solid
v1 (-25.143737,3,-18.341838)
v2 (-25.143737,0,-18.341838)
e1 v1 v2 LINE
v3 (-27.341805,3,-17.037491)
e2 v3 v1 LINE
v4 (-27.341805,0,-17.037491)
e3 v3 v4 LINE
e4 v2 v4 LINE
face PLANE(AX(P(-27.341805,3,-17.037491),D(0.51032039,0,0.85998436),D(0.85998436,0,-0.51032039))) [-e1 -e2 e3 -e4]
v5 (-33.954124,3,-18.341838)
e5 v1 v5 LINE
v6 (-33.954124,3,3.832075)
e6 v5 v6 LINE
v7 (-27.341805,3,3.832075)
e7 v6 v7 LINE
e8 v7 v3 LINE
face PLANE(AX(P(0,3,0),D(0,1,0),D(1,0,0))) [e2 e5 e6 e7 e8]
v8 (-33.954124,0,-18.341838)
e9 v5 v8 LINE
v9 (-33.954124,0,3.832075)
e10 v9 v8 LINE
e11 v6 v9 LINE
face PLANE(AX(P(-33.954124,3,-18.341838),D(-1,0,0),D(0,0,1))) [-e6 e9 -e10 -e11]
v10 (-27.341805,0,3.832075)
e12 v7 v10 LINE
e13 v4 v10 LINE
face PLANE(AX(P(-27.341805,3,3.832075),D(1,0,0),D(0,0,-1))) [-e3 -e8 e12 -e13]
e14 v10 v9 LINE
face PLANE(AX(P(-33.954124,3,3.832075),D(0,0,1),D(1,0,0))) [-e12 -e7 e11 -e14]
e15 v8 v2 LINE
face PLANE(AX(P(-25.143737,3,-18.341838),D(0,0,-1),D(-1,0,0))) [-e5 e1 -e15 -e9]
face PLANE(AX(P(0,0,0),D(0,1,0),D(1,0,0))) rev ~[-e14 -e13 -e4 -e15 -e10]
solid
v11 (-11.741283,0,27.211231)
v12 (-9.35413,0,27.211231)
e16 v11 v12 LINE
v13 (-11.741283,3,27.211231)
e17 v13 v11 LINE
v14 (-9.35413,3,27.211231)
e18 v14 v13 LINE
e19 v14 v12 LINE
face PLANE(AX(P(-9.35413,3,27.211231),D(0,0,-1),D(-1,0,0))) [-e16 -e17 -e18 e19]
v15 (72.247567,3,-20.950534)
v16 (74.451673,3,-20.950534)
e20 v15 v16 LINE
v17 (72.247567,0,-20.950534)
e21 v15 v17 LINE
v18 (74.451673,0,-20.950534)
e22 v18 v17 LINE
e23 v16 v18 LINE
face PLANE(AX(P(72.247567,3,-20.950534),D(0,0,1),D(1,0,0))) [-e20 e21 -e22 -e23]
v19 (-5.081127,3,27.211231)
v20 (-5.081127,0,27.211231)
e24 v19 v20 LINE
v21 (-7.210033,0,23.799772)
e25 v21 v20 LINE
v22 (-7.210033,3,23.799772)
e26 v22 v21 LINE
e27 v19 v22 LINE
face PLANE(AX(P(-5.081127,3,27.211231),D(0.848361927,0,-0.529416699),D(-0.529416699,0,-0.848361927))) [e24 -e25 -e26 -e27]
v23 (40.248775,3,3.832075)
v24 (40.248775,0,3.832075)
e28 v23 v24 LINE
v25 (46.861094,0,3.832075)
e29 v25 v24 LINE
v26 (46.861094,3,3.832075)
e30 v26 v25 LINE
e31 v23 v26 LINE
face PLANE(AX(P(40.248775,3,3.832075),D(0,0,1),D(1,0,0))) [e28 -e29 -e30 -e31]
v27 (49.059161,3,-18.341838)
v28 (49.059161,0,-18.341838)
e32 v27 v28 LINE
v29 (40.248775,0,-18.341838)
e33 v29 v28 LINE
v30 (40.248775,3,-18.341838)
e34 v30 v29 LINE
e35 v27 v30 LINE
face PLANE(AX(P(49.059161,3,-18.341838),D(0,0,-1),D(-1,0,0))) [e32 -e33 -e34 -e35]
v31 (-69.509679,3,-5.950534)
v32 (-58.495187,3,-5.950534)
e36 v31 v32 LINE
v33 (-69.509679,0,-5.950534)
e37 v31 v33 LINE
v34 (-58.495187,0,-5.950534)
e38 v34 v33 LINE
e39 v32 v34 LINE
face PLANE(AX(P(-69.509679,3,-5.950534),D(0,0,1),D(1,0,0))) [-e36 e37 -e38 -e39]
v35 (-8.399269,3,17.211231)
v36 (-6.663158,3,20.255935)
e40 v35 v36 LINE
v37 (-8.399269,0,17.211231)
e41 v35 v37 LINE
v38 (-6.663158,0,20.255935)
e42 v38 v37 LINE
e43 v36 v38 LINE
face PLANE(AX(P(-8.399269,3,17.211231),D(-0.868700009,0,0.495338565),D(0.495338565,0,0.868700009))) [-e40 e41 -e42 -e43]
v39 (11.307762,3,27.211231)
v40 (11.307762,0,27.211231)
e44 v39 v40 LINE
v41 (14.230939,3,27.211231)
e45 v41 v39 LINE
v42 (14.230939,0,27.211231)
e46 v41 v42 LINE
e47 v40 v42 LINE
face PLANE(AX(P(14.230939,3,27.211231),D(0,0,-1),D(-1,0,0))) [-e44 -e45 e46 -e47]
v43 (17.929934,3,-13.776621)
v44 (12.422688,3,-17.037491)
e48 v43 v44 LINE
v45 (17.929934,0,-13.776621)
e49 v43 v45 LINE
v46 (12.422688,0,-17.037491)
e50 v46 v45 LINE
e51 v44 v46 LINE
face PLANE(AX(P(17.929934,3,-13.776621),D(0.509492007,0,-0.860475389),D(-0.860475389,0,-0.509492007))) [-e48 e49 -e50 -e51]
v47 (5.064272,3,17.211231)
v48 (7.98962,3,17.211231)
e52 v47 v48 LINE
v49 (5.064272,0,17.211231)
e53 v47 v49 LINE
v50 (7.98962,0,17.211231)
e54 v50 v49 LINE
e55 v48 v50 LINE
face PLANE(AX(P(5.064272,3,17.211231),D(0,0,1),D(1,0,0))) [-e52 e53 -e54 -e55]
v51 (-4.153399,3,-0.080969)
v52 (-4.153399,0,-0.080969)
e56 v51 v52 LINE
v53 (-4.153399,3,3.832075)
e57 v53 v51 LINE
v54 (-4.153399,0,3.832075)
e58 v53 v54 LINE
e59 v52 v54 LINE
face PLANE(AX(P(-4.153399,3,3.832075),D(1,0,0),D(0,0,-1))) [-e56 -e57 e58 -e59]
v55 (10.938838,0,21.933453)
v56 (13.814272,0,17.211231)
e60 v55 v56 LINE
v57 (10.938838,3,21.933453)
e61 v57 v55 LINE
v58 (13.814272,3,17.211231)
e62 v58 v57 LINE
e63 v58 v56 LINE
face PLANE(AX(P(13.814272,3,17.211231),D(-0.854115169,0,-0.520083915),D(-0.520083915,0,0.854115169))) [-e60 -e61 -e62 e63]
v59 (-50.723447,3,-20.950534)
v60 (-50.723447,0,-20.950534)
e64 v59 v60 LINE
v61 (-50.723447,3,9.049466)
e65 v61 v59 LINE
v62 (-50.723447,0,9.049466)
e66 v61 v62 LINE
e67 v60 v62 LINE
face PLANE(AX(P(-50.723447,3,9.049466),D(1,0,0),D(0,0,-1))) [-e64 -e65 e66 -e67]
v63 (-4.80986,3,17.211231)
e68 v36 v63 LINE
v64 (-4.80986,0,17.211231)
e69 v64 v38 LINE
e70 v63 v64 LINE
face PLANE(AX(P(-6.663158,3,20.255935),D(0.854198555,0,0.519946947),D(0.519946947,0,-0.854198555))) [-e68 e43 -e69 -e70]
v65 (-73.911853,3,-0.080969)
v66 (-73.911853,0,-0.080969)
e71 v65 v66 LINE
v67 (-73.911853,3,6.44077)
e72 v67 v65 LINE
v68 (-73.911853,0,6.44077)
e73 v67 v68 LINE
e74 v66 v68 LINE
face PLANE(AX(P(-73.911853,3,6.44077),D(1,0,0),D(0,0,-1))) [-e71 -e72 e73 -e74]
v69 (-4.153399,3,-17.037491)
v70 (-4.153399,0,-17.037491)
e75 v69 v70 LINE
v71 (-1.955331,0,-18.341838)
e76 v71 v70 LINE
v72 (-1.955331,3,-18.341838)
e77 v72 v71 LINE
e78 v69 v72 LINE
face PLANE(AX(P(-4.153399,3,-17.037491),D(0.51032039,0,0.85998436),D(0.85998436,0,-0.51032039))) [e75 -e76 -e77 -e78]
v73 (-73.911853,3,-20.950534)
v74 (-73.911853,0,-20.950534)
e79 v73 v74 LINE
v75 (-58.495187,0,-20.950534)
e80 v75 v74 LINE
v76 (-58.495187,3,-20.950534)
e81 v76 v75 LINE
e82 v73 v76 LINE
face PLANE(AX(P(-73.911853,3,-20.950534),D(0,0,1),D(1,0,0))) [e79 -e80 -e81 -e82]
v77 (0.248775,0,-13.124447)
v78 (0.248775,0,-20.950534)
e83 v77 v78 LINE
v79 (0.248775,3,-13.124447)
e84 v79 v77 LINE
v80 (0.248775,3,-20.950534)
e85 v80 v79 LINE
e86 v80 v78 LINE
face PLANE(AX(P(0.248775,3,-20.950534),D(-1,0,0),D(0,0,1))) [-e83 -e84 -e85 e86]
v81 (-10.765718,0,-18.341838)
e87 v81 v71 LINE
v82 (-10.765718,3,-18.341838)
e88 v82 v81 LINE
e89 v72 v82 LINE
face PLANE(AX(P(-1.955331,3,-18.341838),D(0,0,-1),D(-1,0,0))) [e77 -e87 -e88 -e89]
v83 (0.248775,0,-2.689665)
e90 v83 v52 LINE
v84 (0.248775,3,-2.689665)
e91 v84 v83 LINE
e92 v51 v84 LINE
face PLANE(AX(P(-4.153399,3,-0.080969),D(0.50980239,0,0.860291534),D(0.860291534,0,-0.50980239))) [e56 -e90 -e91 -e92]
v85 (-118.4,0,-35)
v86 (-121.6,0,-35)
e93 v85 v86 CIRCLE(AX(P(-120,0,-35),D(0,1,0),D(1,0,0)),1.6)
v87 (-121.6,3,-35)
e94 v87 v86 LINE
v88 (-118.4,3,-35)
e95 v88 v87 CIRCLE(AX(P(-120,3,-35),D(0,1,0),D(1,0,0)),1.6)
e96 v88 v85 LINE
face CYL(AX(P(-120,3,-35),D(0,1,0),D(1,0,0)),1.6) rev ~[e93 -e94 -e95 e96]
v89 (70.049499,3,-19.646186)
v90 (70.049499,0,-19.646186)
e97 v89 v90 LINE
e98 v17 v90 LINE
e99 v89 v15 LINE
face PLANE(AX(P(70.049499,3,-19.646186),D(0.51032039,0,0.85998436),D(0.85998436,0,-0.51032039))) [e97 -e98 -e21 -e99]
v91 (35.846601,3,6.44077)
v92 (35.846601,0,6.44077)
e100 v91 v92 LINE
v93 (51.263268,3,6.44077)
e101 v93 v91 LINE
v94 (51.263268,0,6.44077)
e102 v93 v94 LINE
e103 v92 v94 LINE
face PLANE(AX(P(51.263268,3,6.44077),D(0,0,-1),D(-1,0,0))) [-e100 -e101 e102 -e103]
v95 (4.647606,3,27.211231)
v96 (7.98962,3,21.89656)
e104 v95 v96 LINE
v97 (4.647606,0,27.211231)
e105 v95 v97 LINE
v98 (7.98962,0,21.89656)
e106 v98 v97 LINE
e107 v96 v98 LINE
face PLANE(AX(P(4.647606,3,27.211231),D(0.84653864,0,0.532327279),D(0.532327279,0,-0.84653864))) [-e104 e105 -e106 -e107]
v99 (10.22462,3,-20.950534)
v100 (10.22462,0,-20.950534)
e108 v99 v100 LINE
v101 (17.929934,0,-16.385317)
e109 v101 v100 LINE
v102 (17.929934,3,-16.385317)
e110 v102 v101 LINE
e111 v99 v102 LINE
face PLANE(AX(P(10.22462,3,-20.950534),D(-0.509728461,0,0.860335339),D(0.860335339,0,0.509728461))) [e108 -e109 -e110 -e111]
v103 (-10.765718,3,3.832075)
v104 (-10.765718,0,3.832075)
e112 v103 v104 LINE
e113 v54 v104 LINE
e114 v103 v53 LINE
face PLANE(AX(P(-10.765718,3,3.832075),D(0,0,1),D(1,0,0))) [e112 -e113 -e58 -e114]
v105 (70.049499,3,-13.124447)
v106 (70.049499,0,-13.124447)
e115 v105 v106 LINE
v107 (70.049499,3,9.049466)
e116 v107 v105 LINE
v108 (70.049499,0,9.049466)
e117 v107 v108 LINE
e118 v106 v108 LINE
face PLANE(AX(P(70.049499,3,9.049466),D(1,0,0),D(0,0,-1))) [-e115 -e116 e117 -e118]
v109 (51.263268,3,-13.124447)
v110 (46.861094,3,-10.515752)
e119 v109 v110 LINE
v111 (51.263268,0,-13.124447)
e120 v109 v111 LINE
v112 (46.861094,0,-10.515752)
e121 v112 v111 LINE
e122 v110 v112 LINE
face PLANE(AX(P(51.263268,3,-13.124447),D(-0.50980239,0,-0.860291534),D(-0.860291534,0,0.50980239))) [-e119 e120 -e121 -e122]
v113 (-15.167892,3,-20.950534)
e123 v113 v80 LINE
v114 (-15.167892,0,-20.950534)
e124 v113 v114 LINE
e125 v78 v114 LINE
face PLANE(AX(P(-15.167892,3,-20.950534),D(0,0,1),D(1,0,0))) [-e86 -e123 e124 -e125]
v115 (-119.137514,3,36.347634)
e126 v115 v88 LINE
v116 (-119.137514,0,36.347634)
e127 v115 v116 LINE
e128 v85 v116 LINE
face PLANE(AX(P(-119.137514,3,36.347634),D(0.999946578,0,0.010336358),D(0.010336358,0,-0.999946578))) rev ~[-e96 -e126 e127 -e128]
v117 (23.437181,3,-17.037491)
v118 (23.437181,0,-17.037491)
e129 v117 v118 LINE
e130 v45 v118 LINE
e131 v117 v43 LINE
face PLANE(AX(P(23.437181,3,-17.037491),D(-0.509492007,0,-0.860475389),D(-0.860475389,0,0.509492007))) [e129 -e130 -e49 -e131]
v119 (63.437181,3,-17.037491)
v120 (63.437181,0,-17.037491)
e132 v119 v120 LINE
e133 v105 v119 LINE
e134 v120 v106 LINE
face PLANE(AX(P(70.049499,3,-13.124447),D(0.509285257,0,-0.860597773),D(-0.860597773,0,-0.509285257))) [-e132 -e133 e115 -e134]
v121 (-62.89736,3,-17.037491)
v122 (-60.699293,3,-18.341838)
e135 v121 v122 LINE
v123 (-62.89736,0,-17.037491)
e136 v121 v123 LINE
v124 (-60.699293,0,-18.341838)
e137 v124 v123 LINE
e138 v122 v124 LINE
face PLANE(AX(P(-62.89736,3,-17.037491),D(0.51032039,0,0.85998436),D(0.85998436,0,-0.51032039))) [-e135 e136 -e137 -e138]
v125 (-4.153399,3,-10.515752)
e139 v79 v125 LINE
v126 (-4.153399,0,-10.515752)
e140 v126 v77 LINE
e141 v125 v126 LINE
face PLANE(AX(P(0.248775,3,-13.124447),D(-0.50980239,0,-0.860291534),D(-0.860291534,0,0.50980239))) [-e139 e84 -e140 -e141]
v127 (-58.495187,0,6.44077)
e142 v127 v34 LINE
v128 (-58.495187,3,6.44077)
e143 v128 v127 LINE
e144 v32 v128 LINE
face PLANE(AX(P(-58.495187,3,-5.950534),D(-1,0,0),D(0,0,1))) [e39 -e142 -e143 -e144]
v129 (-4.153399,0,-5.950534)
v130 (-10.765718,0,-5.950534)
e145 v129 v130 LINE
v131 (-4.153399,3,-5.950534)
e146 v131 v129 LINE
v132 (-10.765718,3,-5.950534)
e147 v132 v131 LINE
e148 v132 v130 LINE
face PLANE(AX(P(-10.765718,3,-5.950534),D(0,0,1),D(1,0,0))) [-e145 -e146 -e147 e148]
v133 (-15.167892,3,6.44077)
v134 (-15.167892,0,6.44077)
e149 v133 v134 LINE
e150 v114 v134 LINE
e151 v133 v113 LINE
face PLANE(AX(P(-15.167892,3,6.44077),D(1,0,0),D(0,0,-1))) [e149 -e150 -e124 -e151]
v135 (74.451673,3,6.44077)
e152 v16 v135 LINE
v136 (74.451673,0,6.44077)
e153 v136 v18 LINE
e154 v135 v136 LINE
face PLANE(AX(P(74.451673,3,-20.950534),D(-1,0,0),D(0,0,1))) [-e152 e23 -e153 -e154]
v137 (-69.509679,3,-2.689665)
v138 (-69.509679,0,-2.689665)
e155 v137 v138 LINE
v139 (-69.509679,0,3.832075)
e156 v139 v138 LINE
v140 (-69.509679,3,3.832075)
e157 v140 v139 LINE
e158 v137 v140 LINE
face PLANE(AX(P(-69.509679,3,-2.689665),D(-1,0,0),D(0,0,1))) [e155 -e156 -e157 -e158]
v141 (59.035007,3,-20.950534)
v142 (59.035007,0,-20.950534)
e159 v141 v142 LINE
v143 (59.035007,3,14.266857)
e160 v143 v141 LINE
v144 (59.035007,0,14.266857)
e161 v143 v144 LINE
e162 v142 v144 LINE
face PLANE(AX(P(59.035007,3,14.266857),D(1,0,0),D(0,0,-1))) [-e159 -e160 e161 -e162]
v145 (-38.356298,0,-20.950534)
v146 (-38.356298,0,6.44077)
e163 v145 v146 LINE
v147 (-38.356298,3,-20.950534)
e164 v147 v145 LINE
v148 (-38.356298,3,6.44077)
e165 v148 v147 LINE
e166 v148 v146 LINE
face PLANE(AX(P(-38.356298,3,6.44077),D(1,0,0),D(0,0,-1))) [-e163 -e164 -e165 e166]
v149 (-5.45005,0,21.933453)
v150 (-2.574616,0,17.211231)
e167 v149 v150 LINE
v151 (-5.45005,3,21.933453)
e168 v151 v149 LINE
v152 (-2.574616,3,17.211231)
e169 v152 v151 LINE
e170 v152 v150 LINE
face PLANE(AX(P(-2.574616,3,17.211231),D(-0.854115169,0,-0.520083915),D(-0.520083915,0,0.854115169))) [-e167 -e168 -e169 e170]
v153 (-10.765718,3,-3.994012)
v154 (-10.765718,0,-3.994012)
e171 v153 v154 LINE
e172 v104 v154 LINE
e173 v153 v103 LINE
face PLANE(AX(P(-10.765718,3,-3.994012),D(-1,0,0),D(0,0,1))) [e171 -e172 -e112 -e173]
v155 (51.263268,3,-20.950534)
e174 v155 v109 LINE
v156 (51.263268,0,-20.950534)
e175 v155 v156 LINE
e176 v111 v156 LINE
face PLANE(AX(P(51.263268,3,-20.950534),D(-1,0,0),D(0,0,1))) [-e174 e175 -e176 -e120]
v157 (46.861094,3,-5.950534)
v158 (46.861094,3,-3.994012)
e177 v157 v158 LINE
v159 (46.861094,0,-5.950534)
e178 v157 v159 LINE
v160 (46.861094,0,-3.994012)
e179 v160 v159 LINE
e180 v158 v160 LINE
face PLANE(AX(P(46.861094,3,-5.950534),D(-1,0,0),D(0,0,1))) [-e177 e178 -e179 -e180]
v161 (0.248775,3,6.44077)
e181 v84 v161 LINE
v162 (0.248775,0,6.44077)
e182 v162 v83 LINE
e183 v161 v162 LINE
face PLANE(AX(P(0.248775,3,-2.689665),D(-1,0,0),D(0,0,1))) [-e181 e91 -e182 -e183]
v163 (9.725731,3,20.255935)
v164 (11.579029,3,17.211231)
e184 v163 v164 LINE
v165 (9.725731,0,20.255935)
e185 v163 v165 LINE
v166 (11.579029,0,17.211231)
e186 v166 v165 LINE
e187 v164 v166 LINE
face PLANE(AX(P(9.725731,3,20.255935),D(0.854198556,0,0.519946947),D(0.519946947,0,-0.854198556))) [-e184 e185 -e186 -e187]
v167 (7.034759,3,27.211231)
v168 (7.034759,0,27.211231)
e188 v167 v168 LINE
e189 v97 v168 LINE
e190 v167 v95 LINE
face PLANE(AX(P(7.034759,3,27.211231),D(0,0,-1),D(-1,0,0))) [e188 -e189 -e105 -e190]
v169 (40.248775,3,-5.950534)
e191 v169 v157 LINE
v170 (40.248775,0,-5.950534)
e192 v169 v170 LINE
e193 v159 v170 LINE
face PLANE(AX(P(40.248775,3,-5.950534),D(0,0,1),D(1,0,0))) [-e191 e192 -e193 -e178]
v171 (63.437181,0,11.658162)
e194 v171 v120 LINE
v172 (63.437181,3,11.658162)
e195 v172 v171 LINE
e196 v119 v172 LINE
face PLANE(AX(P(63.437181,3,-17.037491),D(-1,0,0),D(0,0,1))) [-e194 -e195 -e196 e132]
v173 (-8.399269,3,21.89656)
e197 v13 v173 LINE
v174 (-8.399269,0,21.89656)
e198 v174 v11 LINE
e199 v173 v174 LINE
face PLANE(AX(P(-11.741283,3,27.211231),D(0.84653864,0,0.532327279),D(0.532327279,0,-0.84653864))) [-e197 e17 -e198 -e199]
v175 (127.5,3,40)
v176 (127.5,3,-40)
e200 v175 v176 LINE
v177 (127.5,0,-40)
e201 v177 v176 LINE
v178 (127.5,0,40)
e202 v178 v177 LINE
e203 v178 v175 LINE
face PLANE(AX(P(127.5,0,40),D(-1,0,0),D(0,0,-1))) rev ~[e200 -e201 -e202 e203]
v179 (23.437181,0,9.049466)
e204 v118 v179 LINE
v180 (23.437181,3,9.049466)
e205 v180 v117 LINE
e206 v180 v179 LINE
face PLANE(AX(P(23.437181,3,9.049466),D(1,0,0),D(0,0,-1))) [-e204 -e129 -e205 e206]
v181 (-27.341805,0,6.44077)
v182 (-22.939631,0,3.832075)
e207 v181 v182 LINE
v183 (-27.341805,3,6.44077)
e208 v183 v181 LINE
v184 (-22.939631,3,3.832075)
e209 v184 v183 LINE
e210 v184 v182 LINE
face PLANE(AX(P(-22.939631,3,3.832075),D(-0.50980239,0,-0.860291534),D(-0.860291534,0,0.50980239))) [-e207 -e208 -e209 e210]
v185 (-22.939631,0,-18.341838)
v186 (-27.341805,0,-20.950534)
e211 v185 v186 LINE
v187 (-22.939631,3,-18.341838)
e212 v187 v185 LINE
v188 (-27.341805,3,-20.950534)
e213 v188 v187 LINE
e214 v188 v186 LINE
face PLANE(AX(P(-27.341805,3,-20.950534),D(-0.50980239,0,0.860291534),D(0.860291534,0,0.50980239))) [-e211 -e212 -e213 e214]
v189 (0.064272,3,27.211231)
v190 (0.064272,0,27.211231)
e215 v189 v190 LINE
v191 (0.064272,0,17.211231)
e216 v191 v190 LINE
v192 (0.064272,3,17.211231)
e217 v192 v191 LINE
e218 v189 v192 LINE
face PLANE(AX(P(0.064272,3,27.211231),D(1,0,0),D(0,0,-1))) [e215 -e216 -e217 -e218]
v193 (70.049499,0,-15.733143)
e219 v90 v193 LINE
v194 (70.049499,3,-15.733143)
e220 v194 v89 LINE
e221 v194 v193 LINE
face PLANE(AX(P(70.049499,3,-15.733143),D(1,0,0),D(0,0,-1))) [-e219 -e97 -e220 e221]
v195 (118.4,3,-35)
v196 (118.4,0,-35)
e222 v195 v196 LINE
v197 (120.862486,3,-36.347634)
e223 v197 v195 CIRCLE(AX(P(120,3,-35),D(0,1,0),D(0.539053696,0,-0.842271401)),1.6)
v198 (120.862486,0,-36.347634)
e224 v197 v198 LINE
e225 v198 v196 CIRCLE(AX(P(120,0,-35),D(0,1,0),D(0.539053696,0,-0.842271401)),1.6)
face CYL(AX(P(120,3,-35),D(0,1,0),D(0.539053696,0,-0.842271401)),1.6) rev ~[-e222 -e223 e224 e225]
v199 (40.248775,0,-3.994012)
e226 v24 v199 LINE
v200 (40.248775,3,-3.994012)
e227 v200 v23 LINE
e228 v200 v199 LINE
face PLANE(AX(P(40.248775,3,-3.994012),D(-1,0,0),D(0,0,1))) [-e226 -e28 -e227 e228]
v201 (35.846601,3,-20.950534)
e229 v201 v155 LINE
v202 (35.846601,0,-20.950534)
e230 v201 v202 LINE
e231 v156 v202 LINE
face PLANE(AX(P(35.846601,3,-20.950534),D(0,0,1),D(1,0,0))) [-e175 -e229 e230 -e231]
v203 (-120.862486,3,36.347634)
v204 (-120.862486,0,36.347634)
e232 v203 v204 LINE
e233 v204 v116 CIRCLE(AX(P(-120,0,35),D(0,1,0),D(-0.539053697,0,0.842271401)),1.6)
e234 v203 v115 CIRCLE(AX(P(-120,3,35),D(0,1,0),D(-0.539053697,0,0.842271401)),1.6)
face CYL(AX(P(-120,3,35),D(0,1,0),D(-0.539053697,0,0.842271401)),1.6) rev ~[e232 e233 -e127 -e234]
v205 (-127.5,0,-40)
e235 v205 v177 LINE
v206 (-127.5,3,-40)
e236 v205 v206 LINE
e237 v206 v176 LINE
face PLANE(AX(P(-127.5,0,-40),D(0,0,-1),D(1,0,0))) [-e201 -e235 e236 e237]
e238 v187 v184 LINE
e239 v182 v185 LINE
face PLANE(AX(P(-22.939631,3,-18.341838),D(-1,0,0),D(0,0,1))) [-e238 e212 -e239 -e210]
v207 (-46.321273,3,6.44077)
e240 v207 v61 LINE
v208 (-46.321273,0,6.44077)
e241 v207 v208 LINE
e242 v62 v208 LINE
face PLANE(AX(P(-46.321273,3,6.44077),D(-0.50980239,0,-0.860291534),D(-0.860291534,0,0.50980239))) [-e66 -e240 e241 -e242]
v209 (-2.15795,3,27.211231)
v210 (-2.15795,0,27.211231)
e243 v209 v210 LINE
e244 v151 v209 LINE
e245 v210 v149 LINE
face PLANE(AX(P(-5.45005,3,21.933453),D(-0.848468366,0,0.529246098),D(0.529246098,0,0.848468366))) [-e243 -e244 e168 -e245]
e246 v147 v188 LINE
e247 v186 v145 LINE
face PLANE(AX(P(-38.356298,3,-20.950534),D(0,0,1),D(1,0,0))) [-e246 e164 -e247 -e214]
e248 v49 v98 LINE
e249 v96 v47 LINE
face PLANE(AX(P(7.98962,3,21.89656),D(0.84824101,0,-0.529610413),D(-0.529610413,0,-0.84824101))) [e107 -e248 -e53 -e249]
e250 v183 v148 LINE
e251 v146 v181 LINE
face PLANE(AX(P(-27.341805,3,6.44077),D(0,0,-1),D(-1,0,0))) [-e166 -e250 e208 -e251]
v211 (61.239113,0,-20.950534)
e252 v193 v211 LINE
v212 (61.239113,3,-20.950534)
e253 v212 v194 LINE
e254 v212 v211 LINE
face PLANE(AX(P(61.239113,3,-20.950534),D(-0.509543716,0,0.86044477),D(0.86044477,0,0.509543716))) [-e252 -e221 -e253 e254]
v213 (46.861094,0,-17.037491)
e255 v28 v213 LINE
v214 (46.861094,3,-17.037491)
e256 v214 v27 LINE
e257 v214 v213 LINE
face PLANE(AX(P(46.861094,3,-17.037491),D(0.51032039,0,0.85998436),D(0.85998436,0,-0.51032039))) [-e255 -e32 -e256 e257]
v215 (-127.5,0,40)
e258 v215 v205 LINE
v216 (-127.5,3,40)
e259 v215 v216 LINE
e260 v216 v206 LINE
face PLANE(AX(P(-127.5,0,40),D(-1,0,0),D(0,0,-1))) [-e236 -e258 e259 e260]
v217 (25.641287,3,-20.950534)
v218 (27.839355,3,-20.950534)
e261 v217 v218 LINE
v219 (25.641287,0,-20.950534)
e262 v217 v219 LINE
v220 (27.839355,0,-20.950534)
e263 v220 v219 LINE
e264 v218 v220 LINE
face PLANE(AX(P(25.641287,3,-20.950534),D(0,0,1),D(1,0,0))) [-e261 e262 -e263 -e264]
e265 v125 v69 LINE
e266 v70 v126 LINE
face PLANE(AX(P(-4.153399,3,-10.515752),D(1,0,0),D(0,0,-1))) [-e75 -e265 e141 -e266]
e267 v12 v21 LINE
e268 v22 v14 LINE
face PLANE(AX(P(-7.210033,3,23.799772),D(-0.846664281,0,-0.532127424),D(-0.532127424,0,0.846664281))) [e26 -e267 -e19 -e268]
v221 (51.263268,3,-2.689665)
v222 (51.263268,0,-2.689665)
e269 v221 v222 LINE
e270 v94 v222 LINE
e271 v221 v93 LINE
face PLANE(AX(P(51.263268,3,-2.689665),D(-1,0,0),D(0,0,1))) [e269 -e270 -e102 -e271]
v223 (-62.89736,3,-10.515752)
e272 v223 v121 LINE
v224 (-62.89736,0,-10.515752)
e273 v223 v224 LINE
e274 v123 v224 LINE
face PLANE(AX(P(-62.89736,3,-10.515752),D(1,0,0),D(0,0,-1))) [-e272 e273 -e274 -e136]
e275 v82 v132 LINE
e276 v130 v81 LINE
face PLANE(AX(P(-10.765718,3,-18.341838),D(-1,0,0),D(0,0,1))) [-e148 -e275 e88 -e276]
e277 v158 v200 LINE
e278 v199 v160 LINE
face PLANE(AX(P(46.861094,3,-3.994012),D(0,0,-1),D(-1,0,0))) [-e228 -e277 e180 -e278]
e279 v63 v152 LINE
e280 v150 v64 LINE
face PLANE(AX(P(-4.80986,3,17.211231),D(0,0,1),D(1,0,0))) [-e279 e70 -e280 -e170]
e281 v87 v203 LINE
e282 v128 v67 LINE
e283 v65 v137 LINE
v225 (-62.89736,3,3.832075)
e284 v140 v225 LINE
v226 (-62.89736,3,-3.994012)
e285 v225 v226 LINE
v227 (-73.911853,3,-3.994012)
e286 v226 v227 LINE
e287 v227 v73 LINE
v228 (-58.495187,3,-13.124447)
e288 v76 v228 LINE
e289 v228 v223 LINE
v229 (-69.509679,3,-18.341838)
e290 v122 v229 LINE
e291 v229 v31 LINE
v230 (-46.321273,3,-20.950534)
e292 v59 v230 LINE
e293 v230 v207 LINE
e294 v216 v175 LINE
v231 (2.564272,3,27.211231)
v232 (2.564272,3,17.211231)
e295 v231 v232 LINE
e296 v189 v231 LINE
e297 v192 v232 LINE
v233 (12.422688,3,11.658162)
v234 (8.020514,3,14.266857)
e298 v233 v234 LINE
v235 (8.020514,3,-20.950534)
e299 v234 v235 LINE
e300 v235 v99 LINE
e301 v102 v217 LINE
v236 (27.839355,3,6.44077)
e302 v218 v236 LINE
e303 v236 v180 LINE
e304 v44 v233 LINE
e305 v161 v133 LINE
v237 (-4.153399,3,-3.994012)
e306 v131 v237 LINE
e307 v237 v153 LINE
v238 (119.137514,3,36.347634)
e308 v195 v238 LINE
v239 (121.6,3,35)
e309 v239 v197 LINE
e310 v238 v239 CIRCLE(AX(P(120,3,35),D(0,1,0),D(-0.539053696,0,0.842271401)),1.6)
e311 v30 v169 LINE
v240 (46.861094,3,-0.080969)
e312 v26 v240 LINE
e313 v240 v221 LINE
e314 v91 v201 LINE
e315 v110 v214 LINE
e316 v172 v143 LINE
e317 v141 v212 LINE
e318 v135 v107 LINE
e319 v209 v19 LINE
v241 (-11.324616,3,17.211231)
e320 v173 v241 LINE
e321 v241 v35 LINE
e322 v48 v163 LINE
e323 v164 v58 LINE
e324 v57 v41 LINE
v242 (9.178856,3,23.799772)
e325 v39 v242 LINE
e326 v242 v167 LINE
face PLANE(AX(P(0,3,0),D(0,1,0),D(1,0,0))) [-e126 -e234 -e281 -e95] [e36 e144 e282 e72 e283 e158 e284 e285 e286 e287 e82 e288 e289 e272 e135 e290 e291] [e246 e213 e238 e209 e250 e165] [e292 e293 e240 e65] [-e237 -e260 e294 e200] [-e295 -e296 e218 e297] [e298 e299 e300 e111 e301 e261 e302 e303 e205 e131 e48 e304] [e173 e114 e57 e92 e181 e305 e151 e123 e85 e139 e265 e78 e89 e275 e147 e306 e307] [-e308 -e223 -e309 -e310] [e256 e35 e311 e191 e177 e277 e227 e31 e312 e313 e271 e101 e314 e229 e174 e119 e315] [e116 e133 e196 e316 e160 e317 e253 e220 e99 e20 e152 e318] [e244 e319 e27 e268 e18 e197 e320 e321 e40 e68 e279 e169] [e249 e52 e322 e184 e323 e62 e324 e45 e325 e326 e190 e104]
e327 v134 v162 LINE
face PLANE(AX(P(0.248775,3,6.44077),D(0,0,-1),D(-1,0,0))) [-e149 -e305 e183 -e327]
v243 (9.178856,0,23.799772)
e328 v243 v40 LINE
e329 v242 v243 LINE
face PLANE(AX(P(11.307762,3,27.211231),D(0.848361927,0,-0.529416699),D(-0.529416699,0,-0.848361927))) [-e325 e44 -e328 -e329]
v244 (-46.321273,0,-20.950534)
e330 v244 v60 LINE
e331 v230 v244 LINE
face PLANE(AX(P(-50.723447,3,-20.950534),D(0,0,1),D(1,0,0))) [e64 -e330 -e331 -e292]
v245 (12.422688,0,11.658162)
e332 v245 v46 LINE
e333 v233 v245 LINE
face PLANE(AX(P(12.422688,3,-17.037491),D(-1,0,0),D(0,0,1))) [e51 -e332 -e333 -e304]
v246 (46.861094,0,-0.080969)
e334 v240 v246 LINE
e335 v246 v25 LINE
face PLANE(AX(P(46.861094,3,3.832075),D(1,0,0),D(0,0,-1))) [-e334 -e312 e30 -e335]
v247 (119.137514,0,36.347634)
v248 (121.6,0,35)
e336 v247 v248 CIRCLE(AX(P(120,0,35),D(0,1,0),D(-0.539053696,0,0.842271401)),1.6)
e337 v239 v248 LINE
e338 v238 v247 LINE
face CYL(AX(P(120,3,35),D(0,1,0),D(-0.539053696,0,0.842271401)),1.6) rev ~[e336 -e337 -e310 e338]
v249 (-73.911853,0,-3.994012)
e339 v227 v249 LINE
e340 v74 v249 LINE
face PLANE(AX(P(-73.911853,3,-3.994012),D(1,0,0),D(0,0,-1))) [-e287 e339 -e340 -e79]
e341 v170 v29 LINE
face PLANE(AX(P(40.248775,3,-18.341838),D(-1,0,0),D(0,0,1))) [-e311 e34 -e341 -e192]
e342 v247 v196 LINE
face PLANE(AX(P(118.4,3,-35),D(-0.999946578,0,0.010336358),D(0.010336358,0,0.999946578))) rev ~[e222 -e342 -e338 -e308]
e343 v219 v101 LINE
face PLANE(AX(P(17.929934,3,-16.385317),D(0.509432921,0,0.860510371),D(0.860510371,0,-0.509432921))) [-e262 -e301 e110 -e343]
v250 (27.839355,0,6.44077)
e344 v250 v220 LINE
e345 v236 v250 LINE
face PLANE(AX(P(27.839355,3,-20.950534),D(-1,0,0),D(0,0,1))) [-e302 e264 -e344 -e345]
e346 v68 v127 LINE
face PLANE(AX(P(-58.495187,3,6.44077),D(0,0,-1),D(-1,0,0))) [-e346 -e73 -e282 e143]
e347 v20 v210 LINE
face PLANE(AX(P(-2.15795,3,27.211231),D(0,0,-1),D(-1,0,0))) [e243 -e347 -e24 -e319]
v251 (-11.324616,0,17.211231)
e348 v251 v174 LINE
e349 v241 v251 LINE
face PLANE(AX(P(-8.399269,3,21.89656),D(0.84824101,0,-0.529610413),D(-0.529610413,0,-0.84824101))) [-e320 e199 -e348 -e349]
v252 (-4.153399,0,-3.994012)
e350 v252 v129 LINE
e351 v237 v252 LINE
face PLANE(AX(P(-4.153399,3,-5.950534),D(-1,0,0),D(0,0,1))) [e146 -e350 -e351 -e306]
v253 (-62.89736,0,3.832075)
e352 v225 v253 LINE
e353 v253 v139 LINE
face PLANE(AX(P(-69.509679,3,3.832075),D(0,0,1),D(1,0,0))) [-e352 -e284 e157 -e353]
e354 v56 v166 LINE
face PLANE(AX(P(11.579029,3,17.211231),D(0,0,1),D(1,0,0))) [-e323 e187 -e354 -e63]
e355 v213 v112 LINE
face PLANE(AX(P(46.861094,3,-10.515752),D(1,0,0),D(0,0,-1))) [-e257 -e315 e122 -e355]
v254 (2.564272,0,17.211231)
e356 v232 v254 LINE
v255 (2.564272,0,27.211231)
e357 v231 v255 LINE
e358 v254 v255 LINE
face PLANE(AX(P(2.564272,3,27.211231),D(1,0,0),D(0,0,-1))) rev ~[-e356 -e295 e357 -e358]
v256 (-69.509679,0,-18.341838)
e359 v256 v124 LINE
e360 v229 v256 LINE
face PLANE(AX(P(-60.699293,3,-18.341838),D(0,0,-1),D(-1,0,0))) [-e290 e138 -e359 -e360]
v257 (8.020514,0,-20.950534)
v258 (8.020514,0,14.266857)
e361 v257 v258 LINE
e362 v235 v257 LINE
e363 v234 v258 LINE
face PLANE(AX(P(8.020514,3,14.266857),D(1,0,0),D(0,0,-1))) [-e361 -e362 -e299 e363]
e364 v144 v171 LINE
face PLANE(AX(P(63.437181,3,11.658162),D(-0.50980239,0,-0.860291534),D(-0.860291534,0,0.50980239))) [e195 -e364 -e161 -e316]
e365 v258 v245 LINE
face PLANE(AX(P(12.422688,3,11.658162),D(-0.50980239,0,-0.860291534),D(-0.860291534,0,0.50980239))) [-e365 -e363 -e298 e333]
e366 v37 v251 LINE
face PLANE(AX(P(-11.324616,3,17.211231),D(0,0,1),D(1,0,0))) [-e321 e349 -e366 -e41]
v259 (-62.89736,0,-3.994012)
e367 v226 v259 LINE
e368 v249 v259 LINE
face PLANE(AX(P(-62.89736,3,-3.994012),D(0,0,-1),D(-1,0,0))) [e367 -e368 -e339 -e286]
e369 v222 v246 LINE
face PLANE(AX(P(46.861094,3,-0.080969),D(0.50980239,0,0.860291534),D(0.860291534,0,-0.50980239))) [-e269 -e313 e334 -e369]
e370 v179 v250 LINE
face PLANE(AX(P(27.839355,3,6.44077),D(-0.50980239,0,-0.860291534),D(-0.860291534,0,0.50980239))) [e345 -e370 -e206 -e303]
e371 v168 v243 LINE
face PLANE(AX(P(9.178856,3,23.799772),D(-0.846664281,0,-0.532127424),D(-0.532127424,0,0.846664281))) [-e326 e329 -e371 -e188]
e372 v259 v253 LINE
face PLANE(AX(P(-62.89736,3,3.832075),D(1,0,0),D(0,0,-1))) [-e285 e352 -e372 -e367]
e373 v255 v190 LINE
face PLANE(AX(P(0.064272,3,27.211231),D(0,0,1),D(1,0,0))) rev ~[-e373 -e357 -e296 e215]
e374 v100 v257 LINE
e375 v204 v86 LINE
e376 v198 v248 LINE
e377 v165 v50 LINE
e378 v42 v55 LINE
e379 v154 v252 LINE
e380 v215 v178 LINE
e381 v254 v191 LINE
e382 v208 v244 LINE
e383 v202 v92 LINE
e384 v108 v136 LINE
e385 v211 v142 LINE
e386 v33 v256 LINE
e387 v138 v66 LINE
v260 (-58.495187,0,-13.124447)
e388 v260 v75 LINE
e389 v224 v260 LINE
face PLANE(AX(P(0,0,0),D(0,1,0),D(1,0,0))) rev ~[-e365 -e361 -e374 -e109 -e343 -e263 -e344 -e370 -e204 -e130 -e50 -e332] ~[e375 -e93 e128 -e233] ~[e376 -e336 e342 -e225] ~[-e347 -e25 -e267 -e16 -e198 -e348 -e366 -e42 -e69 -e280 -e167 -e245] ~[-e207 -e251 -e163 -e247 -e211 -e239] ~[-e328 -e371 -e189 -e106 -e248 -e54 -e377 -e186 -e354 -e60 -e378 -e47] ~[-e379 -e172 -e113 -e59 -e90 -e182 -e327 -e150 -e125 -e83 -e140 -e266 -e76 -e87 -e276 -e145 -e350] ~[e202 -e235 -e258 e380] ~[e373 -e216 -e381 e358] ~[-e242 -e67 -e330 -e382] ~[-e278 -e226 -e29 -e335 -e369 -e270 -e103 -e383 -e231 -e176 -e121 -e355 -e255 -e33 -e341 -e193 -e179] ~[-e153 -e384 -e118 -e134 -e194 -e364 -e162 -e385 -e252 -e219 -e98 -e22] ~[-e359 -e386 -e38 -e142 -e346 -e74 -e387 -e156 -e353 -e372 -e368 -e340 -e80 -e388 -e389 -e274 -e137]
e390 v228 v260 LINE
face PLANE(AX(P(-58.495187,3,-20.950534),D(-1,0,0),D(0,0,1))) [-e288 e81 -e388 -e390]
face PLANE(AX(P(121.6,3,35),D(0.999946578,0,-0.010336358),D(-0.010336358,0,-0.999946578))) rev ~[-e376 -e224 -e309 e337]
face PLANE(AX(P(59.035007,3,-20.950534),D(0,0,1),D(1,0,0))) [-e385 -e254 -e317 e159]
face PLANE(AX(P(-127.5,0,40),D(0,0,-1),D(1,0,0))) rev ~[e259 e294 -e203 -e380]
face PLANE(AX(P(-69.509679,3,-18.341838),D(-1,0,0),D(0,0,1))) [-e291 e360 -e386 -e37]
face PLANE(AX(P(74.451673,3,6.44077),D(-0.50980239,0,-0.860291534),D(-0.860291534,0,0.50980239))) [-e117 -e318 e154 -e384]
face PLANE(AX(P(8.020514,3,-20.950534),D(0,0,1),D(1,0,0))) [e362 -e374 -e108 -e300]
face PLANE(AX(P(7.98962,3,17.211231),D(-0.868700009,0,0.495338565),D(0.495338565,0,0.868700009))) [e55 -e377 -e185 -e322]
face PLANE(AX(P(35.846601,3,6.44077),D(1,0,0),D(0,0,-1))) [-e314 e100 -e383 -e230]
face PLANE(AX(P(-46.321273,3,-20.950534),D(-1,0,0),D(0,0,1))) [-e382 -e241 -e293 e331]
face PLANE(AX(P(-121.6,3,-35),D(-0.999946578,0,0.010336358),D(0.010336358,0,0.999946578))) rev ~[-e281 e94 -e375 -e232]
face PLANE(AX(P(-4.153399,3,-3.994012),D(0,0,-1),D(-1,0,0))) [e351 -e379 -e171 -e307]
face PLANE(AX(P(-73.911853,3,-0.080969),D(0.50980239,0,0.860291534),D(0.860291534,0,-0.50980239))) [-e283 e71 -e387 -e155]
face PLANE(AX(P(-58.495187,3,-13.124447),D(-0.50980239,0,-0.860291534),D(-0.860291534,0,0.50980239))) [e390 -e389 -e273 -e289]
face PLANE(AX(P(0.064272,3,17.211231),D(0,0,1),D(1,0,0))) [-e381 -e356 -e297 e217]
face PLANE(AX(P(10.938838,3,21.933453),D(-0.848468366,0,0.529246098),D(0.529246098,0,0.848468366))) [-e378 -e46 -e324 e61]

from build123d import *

# Parameters (mm, degrees)
SKETCH1_W           = 255
SKETCH1_H           = 80
BOSS_EXTRUDE1_DEPTH = 3
CUT_EXTRUDE1_REACH  = 135.661
CUT_EXTRUDE3_REACH  = 135.661
SKETCH5_W           = 2.5
SKETCH5_H           = 10
CUT_EXTRUDE4_REACH  = 135.661


with BuildPart() as part:
    # Sketch1 → Boss-Extrude1 (new body)
    with BuildSketch(Plane(origin=(0, 0, 0), x_dir=(1, 0, 0), z_dir=(0, 1, 0))):
        Rectangle(SKETCH1_W, SKETCH1_H)
    extrude(amount=BOSS_EXTRUDE1_DEPTH)

    # Sketch2 → Cut-Extrude1 (cut, up to next)
    with BuildSketch(Plane(origin=(0, 3, 0), x_dir=(1, 0, 0), z_dir=(0, 1, 0)), mode=Mode.PRIVATE) as cut_extrude1_sk1:
        with BuildLine():
            Line((-121.6, 35), (-120.862485914, -36.347634241))
            ThreePointArc((-120.862485914, -36.347634241), (-120, -36.6), (-119.137514086, -36.347634241))
            Line((-119.137514086, -36.347634241), (-118.4, 35))
            ThreePointArc((-118.4, 35), (-120, 36.6), (-121.6, 35))
        make_face()
    cut_extrude1_tool1 = extrude(cut_extrude1_sk1.sketch, amount=-CUT_EXTRUDE1_REACH, mode=Mode.PRIVATE) & part.part
    # Sketch2 → Cut-Extrude1 (cut, up to next)
    with BuildSketch(Plane(origin=(0, 3, 0), x_dir=(1, 0, 0), z_dir=(0, 1, 0)), mode=Mode.PRIVATE) as cut_extrude1_sk2:
        with BuildLine():
            Line((118.4, 35), (119.137514086, -36.347634241))
            ThreePointArc((119.137514086, -36.347634241), (120.76812191, -36.40356287), (121.6, -35))
            Line((121.6, -35), (120.862485914, 36.347634241))
            ThreePointArc((120.862485914, 36.347634241), (119.23187809, 36.40356287), (118.4, 35))
        make_face()
    cut_extrude1_tool2 = extrude(cut_extrude1_sk2.sketch, amount=-CUT_EXTRUDE1_REACH, mode=Mode.PRIVATE) & part.part
    add(cut_extrude1_tool1.solids().sort_by_distance((-120, 3, -3.555655))[0], mode=Mode.SUBTRACT)
    add(cut_extrude1_tool2.solids().sort_by_distance((120, 3, 0))[0], mode=Mode.SUBTRACT)

    # Sketch5 → Cut-Extrude3 (cut, up to next)
    with BuildSketch(Plane(origin=(0, 3, 0), x_dir=(1, 0, 0), z_dir=(0, 1, 0)), mode=Mode.PRIVATE) as cut_extrude3_sk1:
        Polygon((-2.574616468, -17.21123055), (-5.450050496, -21.933452772), (-2.157949801, -27.21123055), (-5.081126885, -27.21123055), (-7.210033135, -23.799772217), (-9.354130357, -27.21123055), (-11.741283135, -27.21123055), (-8.399269246, -21.896560411), (-11.324616468, -17.21123055), (-8.399269246, -17.21123055), (-6.663158135, -20.255935411), (-4.809859523, -17.21123055), align=None)
    cut_extrude3_tool1 = extrude(cut_extrude3_sk1.sketch, amount=-CUT_EXTRUDE3_REACH, mode=Mode.PRIVATE) & part.part
    # Sketch5 → Cut-Extrude3 (cut, up to next)
    with BuildSketch(Plane(origin=(0, 3, 0), x_dir=(1, 0, 0), z_dir=(0, 1, 0)), mode=Mode.PRIVATE) as cut_extrude3_sk2:
        with Locations((1.314272421, -22.21123055)):
            Rectangle(SKETCH5_W, SKETCH5_H)
    cut_extrude3_tool2 = extrude(cut_extrude3_sk2.sketch, amount=-CUT_EXTRUDE3_REACH, mode=Mode.PRIVATE) & part.part
    # Sketch5 → Cut-Extrude3 (cut, up to next)
    with BuildSketch(Plane(origin=(0, 3, 0), x_dir=(1, 0, 0), z_dir=(0, 1, 0)), mode=Mode.PRIVATE) as cut_extrude3_sk3:
        Polygon((13.814272421, -17.21123055), (10.938838393, -21.933452772), (14.230939088, -27.21123055), (11.307762004, -27.21123055), (9.178855754, -23.799772217), (7.034758532, -27.21123055), (4.647605754, -27.21123055), (7.989619643, -21.896560411), (5.064272421, -17.21123055), (7.989619643, -17.21123055), (9.725730754, -20.255935411), (11.579029365, -17.21123055), align=None)
    cut_extrude3_tool3 = extrude(cut_extrude3_sk3.sketch, amount=-CUT_EXTRUDE3_REACH, mode=Mode.PRIVATE) & part.part
    add(cut_extrude3_tool1.solids().sort_by_distance((-6.933837, 3, 22.286822))[0], mode=Mode.SUBTRACT)
    add(cut_extrude3_tool2.solids().sort_by_distance((1.314272, 3, 22.211231))[0], mode=Mode.SUBTRACT)
    add(cut_extrude3_tool3.solids().sort_by_distance((9.455051, 3, 22.286822))[0], mode=Mode.SUBTRACT)

    # Sketch6 → Cut-Extrude4 (cut, up to next)
    with BuildSketch(Plane(origin=(0, 3, 0), x_dir=(1, 0, 0), z_dir=(0, 1, 0)), mode=Mode.PRIVATE) as cut_extrude4_sk1:
        Polygon((-73.91185319, -6.440770216), (-73.91185319, 0.080968915), (-69.509679277, 2.689664567), (-69.509679277, -3.832074563), (-62.897360437, -3.832074563), (-62.897360437, 3.994012393), (-73.91185319, 3.994012393), (-73.91185319, 20.950534132), (-58.495186523, 20.950534132), (-58.495186523, 13.124447176), (-62.897360437, 10.515751523), (-62.897360437, 17.037490654), (-60.699292804, 18.34183848), (-69.509679277, 18.34183848), (-69.509679277, 5.950534132), (-58.495186523, 5.950534132), (-58.495186523, -6.440770216), align=None)
    cut_extrude4_tool1 = extrude(cut_extrude4_sk1.sketch, amount=-CUT_EXTRUDE4_REACH, mode=Mode.PRIVATE) & part.part
    # Sketch6 → Cut-Extrude4 (cut, up to next)
    with BuildSketch(Plane(origin=(0, 3, 0), x_dir=(1, 0, 0), z_dir=(0, 1, 0)), mode=Mode.PRIVATE) as cut_extrude4_sk2:
        Polygon((-50.723447393, -9.049465868), (-50.723447393, 20.950534132), (-46.32127348, 20.950534132), (-46.32127348, -6.440770216), align=None)
    cut_extrude4_tool2 = extrude(cut_extrude4_sk2.sketch, amount=-CUT_EXTRUDE4_REACH, mode=Mode.PRIVATE) & part.part
    # Sketch6 → Cut-Extrude4 (cut, up to next)
    with BuildSketch(Plane(origin=(0, 3, 0), x_dir=(1, 0, 0), z_dir=(0, 1, 0)), mode=Mode.PRIVATE) as cut_extrude4_sk3:
        Polygon((-38.356297635, -6.440770216), (-38.356297635, 20.950534132), (-27.341804881, 20.950534132), (-22.939630968, 18.34183848), (-22.939630968, -3.832074563), (-27.341804881, -6.440770216), align=None)
        Polygon((-27.341804881, -3.832074563), (-27.341804881, 17.037490654), (-25.143737248, 18.34183848), (-33.954123722, 18.34183848), (-33.954123722, -3.832074563), align=None, mode=Mode.SUBTRACT)
    cut_extrude4_tool3 = extrude(cut_extrude4_sk3.sketch, amount=-CUT_EXTRUDE4_REACH, mode=Mode.PRIVATE) & part.part
    # Sketch6 → Cut-Extrude4 (cut, up to next)
    with BuildSketch(Plane(origin=(0, 3, 0), x_dir=(1, 0, 0), z_dir=(0, 1, 0)), mode=Mode.PRIVATE) as cut_extrude4_sk4:
        Polygon((-15.167891838, -6.440770216), (-15.167891838, 20.950534132), (0.248774829, 20.950534132), (0.248774829, 13.124447176), (-4.153399084, 10.515751523), (-4.153399084, 17.037490654), (-1.955331451, 18.34183848), (-10.765717924, 18.34183848), (-10.765717924, 5.950534132), (-4.153399084, 5.950534132), (-4.153399084, 3.994012393), (-10.765717924, 3.994012393), (-10.765717924, -3.832074563), (-4.153399084, -3.832074563), (-4.153399084, 0.080968915), (0.248774829, 2.689664567), (0.248774829, -6.440770216), align=None)
    cut_extrude4_tool4 = extrude(cut_extrude4_sk4.sketch, amount=-CUT_EXTRUDE4_REACH, mode=Mode.PRIVATE) & part.part
    # Sketch6 → Cut-Extrude4 (cut, up to next)
    with BuildSketch(Plane(origin=(0, 3, 0), x_dir=(1, 0, 0), z_dir=(0, 1, 0)), mode=Mode.PRIVATE) as cut_extrude4_sk5:
        Polygon((8.02051396, -14.266857172), (8.02051396, 20.950534132), (10.22462024, 20.950534132), (17.929934249, 16.385316741), (25.641286906, 20.950534132), (27.839354539, 20.950534132), (27.839354539, -6.440770216), (23.437180626, -9.049465868), (23.437180626, 17.037490654), (17.929934249, 13.776621089), (12.422687873, 17.037490654), (12.422687873, -11.65816152), align=None)
    cut_extrude4_tool5 = extrude(cut_extrude4_sk5.sketch, amount=-CUT_EXTRUDE4_REACH, mode=Mode.PRIVATE) & part.part
    # Sketch6 → Cut-Extrude4 (cut, up to next)
    with BuildSketch(Plane(origin=(0, 3, 0), x_dir=(1, 0, 0), z_dir=(0, 1, 0)), mode=Mode.PRIVATE) as cut_extrude4_sk6:
        Polygon((35.846600916, -6.440770216), (35.846600916, 20.950534132), (51.263267583, 20.950534132), (51.263267583, 13.124447176), (46.86109367, 10.515751523), (46.86109367, 17.037490654), (49.059161303, 18.34183848), (40.248774829, 18.34183848), (40.248774829, 5.950534132), (46.86109367, 5.950534132), (46.86109367, 3.994012393), (40.248774829, 3.994012393), (40.248774829, -3.832074563), (46.86109367, -3.832074563), (46.86109367, 0.080968915), (51.263267583, 2.689664567), (51.263267583, -6.440770216), align=None)
    cut_extrude4_tool6 = extrude(cut_extrude4_sk6.sketch, amount=-CUT_EXTRUDE4_REACH, mode=Mode.PRIVATE) & part.part
    # Sketch6 → Cut-Extrude4 (cut, up to next)
    with BuildSketch(Plane(origin=(0, 3, 0), x_dir=(1, 0, 0), z_dir=(0, 1, 0)), mode=Mode.PRIVATE) as cut_extrude4_sk7:
        Polygon((59.035006713, -14.266857172), (59.035006713, 20.950534132), (61.239112993, 20.950534132), (70.049499467, 15.733142828), (70.049499467, 19.646186306), (72.2475671, 20.950534132), (74.45167338, 20.950534132), (74.45167338, -6.440770216), (70.049499467, -9.049465868), (70.049499467, 13.124447176), (63.437180626, 17.037490654), (63.437180626, -11.65816152), align=None)
    cut_extrude4_tool7 = extrude(cut_extrude4_sk7.sketch, amount=-CUT_EXTRUDE4_REACH, mode=Mode.PRIVATE) & part.part
    add(cut_extrude4_tool1.solids().sort_by_distance((-73.597535, 3, 3.179901))[0], mode=Mode.SUBTRACT)
    add(cut_extrude4_tool2.solids().sort_by_distance((-48.55571, 3, -6.592827))[0], mode=Mode.SUBTRACT)
    add(cut_extrude4_tool3.solids().sort_by_distance((-38.04198, 3, -7.254882))[0], mode=Mode.SUBTRACT)
    add(cut_extrude4_tool4.solids().sort_by_distance((-14.853574, 3, -7.254882))[0], mode=Mode.SUBTRACT)
    add(cut_extrude4_tool5.solids().sort_by_distance((8.424624, 3, -3.341838))[0], mode=Mode.SUBTRACT)
    add(cut_extrude4_tool6.solids().sort_by_distance((36.160919, 3, -7.254882))[0], mode=Mode.SUBTRACT)
    add(cut_extrude4_tool7.solids().sort_by_distance((59.419446, 3, -3.341838))[0], mode=Mode.SUBTRACT)


with BuildPart() as cut_extrude4_piece_1:
    # of the separate pieces the step leaves, piece 1, a body of its own (cut_extrude4_pieces)
    add(part.part.solids().sort_by_distance((-127.5, 0, 40))[0])


with BuildPart() as cut_extrude4_piece_2:
    # of the separate pieces the step leaves, piece 2, a body of its own (cut_extrude4_pieces)
    add(part.part.solids().sort_by_distance((-25.143737248, 0, -18.34183848))[0])


solid = Compound([cut_extrude4_piece_1.part, cut_extrude4_piece_2.part])
